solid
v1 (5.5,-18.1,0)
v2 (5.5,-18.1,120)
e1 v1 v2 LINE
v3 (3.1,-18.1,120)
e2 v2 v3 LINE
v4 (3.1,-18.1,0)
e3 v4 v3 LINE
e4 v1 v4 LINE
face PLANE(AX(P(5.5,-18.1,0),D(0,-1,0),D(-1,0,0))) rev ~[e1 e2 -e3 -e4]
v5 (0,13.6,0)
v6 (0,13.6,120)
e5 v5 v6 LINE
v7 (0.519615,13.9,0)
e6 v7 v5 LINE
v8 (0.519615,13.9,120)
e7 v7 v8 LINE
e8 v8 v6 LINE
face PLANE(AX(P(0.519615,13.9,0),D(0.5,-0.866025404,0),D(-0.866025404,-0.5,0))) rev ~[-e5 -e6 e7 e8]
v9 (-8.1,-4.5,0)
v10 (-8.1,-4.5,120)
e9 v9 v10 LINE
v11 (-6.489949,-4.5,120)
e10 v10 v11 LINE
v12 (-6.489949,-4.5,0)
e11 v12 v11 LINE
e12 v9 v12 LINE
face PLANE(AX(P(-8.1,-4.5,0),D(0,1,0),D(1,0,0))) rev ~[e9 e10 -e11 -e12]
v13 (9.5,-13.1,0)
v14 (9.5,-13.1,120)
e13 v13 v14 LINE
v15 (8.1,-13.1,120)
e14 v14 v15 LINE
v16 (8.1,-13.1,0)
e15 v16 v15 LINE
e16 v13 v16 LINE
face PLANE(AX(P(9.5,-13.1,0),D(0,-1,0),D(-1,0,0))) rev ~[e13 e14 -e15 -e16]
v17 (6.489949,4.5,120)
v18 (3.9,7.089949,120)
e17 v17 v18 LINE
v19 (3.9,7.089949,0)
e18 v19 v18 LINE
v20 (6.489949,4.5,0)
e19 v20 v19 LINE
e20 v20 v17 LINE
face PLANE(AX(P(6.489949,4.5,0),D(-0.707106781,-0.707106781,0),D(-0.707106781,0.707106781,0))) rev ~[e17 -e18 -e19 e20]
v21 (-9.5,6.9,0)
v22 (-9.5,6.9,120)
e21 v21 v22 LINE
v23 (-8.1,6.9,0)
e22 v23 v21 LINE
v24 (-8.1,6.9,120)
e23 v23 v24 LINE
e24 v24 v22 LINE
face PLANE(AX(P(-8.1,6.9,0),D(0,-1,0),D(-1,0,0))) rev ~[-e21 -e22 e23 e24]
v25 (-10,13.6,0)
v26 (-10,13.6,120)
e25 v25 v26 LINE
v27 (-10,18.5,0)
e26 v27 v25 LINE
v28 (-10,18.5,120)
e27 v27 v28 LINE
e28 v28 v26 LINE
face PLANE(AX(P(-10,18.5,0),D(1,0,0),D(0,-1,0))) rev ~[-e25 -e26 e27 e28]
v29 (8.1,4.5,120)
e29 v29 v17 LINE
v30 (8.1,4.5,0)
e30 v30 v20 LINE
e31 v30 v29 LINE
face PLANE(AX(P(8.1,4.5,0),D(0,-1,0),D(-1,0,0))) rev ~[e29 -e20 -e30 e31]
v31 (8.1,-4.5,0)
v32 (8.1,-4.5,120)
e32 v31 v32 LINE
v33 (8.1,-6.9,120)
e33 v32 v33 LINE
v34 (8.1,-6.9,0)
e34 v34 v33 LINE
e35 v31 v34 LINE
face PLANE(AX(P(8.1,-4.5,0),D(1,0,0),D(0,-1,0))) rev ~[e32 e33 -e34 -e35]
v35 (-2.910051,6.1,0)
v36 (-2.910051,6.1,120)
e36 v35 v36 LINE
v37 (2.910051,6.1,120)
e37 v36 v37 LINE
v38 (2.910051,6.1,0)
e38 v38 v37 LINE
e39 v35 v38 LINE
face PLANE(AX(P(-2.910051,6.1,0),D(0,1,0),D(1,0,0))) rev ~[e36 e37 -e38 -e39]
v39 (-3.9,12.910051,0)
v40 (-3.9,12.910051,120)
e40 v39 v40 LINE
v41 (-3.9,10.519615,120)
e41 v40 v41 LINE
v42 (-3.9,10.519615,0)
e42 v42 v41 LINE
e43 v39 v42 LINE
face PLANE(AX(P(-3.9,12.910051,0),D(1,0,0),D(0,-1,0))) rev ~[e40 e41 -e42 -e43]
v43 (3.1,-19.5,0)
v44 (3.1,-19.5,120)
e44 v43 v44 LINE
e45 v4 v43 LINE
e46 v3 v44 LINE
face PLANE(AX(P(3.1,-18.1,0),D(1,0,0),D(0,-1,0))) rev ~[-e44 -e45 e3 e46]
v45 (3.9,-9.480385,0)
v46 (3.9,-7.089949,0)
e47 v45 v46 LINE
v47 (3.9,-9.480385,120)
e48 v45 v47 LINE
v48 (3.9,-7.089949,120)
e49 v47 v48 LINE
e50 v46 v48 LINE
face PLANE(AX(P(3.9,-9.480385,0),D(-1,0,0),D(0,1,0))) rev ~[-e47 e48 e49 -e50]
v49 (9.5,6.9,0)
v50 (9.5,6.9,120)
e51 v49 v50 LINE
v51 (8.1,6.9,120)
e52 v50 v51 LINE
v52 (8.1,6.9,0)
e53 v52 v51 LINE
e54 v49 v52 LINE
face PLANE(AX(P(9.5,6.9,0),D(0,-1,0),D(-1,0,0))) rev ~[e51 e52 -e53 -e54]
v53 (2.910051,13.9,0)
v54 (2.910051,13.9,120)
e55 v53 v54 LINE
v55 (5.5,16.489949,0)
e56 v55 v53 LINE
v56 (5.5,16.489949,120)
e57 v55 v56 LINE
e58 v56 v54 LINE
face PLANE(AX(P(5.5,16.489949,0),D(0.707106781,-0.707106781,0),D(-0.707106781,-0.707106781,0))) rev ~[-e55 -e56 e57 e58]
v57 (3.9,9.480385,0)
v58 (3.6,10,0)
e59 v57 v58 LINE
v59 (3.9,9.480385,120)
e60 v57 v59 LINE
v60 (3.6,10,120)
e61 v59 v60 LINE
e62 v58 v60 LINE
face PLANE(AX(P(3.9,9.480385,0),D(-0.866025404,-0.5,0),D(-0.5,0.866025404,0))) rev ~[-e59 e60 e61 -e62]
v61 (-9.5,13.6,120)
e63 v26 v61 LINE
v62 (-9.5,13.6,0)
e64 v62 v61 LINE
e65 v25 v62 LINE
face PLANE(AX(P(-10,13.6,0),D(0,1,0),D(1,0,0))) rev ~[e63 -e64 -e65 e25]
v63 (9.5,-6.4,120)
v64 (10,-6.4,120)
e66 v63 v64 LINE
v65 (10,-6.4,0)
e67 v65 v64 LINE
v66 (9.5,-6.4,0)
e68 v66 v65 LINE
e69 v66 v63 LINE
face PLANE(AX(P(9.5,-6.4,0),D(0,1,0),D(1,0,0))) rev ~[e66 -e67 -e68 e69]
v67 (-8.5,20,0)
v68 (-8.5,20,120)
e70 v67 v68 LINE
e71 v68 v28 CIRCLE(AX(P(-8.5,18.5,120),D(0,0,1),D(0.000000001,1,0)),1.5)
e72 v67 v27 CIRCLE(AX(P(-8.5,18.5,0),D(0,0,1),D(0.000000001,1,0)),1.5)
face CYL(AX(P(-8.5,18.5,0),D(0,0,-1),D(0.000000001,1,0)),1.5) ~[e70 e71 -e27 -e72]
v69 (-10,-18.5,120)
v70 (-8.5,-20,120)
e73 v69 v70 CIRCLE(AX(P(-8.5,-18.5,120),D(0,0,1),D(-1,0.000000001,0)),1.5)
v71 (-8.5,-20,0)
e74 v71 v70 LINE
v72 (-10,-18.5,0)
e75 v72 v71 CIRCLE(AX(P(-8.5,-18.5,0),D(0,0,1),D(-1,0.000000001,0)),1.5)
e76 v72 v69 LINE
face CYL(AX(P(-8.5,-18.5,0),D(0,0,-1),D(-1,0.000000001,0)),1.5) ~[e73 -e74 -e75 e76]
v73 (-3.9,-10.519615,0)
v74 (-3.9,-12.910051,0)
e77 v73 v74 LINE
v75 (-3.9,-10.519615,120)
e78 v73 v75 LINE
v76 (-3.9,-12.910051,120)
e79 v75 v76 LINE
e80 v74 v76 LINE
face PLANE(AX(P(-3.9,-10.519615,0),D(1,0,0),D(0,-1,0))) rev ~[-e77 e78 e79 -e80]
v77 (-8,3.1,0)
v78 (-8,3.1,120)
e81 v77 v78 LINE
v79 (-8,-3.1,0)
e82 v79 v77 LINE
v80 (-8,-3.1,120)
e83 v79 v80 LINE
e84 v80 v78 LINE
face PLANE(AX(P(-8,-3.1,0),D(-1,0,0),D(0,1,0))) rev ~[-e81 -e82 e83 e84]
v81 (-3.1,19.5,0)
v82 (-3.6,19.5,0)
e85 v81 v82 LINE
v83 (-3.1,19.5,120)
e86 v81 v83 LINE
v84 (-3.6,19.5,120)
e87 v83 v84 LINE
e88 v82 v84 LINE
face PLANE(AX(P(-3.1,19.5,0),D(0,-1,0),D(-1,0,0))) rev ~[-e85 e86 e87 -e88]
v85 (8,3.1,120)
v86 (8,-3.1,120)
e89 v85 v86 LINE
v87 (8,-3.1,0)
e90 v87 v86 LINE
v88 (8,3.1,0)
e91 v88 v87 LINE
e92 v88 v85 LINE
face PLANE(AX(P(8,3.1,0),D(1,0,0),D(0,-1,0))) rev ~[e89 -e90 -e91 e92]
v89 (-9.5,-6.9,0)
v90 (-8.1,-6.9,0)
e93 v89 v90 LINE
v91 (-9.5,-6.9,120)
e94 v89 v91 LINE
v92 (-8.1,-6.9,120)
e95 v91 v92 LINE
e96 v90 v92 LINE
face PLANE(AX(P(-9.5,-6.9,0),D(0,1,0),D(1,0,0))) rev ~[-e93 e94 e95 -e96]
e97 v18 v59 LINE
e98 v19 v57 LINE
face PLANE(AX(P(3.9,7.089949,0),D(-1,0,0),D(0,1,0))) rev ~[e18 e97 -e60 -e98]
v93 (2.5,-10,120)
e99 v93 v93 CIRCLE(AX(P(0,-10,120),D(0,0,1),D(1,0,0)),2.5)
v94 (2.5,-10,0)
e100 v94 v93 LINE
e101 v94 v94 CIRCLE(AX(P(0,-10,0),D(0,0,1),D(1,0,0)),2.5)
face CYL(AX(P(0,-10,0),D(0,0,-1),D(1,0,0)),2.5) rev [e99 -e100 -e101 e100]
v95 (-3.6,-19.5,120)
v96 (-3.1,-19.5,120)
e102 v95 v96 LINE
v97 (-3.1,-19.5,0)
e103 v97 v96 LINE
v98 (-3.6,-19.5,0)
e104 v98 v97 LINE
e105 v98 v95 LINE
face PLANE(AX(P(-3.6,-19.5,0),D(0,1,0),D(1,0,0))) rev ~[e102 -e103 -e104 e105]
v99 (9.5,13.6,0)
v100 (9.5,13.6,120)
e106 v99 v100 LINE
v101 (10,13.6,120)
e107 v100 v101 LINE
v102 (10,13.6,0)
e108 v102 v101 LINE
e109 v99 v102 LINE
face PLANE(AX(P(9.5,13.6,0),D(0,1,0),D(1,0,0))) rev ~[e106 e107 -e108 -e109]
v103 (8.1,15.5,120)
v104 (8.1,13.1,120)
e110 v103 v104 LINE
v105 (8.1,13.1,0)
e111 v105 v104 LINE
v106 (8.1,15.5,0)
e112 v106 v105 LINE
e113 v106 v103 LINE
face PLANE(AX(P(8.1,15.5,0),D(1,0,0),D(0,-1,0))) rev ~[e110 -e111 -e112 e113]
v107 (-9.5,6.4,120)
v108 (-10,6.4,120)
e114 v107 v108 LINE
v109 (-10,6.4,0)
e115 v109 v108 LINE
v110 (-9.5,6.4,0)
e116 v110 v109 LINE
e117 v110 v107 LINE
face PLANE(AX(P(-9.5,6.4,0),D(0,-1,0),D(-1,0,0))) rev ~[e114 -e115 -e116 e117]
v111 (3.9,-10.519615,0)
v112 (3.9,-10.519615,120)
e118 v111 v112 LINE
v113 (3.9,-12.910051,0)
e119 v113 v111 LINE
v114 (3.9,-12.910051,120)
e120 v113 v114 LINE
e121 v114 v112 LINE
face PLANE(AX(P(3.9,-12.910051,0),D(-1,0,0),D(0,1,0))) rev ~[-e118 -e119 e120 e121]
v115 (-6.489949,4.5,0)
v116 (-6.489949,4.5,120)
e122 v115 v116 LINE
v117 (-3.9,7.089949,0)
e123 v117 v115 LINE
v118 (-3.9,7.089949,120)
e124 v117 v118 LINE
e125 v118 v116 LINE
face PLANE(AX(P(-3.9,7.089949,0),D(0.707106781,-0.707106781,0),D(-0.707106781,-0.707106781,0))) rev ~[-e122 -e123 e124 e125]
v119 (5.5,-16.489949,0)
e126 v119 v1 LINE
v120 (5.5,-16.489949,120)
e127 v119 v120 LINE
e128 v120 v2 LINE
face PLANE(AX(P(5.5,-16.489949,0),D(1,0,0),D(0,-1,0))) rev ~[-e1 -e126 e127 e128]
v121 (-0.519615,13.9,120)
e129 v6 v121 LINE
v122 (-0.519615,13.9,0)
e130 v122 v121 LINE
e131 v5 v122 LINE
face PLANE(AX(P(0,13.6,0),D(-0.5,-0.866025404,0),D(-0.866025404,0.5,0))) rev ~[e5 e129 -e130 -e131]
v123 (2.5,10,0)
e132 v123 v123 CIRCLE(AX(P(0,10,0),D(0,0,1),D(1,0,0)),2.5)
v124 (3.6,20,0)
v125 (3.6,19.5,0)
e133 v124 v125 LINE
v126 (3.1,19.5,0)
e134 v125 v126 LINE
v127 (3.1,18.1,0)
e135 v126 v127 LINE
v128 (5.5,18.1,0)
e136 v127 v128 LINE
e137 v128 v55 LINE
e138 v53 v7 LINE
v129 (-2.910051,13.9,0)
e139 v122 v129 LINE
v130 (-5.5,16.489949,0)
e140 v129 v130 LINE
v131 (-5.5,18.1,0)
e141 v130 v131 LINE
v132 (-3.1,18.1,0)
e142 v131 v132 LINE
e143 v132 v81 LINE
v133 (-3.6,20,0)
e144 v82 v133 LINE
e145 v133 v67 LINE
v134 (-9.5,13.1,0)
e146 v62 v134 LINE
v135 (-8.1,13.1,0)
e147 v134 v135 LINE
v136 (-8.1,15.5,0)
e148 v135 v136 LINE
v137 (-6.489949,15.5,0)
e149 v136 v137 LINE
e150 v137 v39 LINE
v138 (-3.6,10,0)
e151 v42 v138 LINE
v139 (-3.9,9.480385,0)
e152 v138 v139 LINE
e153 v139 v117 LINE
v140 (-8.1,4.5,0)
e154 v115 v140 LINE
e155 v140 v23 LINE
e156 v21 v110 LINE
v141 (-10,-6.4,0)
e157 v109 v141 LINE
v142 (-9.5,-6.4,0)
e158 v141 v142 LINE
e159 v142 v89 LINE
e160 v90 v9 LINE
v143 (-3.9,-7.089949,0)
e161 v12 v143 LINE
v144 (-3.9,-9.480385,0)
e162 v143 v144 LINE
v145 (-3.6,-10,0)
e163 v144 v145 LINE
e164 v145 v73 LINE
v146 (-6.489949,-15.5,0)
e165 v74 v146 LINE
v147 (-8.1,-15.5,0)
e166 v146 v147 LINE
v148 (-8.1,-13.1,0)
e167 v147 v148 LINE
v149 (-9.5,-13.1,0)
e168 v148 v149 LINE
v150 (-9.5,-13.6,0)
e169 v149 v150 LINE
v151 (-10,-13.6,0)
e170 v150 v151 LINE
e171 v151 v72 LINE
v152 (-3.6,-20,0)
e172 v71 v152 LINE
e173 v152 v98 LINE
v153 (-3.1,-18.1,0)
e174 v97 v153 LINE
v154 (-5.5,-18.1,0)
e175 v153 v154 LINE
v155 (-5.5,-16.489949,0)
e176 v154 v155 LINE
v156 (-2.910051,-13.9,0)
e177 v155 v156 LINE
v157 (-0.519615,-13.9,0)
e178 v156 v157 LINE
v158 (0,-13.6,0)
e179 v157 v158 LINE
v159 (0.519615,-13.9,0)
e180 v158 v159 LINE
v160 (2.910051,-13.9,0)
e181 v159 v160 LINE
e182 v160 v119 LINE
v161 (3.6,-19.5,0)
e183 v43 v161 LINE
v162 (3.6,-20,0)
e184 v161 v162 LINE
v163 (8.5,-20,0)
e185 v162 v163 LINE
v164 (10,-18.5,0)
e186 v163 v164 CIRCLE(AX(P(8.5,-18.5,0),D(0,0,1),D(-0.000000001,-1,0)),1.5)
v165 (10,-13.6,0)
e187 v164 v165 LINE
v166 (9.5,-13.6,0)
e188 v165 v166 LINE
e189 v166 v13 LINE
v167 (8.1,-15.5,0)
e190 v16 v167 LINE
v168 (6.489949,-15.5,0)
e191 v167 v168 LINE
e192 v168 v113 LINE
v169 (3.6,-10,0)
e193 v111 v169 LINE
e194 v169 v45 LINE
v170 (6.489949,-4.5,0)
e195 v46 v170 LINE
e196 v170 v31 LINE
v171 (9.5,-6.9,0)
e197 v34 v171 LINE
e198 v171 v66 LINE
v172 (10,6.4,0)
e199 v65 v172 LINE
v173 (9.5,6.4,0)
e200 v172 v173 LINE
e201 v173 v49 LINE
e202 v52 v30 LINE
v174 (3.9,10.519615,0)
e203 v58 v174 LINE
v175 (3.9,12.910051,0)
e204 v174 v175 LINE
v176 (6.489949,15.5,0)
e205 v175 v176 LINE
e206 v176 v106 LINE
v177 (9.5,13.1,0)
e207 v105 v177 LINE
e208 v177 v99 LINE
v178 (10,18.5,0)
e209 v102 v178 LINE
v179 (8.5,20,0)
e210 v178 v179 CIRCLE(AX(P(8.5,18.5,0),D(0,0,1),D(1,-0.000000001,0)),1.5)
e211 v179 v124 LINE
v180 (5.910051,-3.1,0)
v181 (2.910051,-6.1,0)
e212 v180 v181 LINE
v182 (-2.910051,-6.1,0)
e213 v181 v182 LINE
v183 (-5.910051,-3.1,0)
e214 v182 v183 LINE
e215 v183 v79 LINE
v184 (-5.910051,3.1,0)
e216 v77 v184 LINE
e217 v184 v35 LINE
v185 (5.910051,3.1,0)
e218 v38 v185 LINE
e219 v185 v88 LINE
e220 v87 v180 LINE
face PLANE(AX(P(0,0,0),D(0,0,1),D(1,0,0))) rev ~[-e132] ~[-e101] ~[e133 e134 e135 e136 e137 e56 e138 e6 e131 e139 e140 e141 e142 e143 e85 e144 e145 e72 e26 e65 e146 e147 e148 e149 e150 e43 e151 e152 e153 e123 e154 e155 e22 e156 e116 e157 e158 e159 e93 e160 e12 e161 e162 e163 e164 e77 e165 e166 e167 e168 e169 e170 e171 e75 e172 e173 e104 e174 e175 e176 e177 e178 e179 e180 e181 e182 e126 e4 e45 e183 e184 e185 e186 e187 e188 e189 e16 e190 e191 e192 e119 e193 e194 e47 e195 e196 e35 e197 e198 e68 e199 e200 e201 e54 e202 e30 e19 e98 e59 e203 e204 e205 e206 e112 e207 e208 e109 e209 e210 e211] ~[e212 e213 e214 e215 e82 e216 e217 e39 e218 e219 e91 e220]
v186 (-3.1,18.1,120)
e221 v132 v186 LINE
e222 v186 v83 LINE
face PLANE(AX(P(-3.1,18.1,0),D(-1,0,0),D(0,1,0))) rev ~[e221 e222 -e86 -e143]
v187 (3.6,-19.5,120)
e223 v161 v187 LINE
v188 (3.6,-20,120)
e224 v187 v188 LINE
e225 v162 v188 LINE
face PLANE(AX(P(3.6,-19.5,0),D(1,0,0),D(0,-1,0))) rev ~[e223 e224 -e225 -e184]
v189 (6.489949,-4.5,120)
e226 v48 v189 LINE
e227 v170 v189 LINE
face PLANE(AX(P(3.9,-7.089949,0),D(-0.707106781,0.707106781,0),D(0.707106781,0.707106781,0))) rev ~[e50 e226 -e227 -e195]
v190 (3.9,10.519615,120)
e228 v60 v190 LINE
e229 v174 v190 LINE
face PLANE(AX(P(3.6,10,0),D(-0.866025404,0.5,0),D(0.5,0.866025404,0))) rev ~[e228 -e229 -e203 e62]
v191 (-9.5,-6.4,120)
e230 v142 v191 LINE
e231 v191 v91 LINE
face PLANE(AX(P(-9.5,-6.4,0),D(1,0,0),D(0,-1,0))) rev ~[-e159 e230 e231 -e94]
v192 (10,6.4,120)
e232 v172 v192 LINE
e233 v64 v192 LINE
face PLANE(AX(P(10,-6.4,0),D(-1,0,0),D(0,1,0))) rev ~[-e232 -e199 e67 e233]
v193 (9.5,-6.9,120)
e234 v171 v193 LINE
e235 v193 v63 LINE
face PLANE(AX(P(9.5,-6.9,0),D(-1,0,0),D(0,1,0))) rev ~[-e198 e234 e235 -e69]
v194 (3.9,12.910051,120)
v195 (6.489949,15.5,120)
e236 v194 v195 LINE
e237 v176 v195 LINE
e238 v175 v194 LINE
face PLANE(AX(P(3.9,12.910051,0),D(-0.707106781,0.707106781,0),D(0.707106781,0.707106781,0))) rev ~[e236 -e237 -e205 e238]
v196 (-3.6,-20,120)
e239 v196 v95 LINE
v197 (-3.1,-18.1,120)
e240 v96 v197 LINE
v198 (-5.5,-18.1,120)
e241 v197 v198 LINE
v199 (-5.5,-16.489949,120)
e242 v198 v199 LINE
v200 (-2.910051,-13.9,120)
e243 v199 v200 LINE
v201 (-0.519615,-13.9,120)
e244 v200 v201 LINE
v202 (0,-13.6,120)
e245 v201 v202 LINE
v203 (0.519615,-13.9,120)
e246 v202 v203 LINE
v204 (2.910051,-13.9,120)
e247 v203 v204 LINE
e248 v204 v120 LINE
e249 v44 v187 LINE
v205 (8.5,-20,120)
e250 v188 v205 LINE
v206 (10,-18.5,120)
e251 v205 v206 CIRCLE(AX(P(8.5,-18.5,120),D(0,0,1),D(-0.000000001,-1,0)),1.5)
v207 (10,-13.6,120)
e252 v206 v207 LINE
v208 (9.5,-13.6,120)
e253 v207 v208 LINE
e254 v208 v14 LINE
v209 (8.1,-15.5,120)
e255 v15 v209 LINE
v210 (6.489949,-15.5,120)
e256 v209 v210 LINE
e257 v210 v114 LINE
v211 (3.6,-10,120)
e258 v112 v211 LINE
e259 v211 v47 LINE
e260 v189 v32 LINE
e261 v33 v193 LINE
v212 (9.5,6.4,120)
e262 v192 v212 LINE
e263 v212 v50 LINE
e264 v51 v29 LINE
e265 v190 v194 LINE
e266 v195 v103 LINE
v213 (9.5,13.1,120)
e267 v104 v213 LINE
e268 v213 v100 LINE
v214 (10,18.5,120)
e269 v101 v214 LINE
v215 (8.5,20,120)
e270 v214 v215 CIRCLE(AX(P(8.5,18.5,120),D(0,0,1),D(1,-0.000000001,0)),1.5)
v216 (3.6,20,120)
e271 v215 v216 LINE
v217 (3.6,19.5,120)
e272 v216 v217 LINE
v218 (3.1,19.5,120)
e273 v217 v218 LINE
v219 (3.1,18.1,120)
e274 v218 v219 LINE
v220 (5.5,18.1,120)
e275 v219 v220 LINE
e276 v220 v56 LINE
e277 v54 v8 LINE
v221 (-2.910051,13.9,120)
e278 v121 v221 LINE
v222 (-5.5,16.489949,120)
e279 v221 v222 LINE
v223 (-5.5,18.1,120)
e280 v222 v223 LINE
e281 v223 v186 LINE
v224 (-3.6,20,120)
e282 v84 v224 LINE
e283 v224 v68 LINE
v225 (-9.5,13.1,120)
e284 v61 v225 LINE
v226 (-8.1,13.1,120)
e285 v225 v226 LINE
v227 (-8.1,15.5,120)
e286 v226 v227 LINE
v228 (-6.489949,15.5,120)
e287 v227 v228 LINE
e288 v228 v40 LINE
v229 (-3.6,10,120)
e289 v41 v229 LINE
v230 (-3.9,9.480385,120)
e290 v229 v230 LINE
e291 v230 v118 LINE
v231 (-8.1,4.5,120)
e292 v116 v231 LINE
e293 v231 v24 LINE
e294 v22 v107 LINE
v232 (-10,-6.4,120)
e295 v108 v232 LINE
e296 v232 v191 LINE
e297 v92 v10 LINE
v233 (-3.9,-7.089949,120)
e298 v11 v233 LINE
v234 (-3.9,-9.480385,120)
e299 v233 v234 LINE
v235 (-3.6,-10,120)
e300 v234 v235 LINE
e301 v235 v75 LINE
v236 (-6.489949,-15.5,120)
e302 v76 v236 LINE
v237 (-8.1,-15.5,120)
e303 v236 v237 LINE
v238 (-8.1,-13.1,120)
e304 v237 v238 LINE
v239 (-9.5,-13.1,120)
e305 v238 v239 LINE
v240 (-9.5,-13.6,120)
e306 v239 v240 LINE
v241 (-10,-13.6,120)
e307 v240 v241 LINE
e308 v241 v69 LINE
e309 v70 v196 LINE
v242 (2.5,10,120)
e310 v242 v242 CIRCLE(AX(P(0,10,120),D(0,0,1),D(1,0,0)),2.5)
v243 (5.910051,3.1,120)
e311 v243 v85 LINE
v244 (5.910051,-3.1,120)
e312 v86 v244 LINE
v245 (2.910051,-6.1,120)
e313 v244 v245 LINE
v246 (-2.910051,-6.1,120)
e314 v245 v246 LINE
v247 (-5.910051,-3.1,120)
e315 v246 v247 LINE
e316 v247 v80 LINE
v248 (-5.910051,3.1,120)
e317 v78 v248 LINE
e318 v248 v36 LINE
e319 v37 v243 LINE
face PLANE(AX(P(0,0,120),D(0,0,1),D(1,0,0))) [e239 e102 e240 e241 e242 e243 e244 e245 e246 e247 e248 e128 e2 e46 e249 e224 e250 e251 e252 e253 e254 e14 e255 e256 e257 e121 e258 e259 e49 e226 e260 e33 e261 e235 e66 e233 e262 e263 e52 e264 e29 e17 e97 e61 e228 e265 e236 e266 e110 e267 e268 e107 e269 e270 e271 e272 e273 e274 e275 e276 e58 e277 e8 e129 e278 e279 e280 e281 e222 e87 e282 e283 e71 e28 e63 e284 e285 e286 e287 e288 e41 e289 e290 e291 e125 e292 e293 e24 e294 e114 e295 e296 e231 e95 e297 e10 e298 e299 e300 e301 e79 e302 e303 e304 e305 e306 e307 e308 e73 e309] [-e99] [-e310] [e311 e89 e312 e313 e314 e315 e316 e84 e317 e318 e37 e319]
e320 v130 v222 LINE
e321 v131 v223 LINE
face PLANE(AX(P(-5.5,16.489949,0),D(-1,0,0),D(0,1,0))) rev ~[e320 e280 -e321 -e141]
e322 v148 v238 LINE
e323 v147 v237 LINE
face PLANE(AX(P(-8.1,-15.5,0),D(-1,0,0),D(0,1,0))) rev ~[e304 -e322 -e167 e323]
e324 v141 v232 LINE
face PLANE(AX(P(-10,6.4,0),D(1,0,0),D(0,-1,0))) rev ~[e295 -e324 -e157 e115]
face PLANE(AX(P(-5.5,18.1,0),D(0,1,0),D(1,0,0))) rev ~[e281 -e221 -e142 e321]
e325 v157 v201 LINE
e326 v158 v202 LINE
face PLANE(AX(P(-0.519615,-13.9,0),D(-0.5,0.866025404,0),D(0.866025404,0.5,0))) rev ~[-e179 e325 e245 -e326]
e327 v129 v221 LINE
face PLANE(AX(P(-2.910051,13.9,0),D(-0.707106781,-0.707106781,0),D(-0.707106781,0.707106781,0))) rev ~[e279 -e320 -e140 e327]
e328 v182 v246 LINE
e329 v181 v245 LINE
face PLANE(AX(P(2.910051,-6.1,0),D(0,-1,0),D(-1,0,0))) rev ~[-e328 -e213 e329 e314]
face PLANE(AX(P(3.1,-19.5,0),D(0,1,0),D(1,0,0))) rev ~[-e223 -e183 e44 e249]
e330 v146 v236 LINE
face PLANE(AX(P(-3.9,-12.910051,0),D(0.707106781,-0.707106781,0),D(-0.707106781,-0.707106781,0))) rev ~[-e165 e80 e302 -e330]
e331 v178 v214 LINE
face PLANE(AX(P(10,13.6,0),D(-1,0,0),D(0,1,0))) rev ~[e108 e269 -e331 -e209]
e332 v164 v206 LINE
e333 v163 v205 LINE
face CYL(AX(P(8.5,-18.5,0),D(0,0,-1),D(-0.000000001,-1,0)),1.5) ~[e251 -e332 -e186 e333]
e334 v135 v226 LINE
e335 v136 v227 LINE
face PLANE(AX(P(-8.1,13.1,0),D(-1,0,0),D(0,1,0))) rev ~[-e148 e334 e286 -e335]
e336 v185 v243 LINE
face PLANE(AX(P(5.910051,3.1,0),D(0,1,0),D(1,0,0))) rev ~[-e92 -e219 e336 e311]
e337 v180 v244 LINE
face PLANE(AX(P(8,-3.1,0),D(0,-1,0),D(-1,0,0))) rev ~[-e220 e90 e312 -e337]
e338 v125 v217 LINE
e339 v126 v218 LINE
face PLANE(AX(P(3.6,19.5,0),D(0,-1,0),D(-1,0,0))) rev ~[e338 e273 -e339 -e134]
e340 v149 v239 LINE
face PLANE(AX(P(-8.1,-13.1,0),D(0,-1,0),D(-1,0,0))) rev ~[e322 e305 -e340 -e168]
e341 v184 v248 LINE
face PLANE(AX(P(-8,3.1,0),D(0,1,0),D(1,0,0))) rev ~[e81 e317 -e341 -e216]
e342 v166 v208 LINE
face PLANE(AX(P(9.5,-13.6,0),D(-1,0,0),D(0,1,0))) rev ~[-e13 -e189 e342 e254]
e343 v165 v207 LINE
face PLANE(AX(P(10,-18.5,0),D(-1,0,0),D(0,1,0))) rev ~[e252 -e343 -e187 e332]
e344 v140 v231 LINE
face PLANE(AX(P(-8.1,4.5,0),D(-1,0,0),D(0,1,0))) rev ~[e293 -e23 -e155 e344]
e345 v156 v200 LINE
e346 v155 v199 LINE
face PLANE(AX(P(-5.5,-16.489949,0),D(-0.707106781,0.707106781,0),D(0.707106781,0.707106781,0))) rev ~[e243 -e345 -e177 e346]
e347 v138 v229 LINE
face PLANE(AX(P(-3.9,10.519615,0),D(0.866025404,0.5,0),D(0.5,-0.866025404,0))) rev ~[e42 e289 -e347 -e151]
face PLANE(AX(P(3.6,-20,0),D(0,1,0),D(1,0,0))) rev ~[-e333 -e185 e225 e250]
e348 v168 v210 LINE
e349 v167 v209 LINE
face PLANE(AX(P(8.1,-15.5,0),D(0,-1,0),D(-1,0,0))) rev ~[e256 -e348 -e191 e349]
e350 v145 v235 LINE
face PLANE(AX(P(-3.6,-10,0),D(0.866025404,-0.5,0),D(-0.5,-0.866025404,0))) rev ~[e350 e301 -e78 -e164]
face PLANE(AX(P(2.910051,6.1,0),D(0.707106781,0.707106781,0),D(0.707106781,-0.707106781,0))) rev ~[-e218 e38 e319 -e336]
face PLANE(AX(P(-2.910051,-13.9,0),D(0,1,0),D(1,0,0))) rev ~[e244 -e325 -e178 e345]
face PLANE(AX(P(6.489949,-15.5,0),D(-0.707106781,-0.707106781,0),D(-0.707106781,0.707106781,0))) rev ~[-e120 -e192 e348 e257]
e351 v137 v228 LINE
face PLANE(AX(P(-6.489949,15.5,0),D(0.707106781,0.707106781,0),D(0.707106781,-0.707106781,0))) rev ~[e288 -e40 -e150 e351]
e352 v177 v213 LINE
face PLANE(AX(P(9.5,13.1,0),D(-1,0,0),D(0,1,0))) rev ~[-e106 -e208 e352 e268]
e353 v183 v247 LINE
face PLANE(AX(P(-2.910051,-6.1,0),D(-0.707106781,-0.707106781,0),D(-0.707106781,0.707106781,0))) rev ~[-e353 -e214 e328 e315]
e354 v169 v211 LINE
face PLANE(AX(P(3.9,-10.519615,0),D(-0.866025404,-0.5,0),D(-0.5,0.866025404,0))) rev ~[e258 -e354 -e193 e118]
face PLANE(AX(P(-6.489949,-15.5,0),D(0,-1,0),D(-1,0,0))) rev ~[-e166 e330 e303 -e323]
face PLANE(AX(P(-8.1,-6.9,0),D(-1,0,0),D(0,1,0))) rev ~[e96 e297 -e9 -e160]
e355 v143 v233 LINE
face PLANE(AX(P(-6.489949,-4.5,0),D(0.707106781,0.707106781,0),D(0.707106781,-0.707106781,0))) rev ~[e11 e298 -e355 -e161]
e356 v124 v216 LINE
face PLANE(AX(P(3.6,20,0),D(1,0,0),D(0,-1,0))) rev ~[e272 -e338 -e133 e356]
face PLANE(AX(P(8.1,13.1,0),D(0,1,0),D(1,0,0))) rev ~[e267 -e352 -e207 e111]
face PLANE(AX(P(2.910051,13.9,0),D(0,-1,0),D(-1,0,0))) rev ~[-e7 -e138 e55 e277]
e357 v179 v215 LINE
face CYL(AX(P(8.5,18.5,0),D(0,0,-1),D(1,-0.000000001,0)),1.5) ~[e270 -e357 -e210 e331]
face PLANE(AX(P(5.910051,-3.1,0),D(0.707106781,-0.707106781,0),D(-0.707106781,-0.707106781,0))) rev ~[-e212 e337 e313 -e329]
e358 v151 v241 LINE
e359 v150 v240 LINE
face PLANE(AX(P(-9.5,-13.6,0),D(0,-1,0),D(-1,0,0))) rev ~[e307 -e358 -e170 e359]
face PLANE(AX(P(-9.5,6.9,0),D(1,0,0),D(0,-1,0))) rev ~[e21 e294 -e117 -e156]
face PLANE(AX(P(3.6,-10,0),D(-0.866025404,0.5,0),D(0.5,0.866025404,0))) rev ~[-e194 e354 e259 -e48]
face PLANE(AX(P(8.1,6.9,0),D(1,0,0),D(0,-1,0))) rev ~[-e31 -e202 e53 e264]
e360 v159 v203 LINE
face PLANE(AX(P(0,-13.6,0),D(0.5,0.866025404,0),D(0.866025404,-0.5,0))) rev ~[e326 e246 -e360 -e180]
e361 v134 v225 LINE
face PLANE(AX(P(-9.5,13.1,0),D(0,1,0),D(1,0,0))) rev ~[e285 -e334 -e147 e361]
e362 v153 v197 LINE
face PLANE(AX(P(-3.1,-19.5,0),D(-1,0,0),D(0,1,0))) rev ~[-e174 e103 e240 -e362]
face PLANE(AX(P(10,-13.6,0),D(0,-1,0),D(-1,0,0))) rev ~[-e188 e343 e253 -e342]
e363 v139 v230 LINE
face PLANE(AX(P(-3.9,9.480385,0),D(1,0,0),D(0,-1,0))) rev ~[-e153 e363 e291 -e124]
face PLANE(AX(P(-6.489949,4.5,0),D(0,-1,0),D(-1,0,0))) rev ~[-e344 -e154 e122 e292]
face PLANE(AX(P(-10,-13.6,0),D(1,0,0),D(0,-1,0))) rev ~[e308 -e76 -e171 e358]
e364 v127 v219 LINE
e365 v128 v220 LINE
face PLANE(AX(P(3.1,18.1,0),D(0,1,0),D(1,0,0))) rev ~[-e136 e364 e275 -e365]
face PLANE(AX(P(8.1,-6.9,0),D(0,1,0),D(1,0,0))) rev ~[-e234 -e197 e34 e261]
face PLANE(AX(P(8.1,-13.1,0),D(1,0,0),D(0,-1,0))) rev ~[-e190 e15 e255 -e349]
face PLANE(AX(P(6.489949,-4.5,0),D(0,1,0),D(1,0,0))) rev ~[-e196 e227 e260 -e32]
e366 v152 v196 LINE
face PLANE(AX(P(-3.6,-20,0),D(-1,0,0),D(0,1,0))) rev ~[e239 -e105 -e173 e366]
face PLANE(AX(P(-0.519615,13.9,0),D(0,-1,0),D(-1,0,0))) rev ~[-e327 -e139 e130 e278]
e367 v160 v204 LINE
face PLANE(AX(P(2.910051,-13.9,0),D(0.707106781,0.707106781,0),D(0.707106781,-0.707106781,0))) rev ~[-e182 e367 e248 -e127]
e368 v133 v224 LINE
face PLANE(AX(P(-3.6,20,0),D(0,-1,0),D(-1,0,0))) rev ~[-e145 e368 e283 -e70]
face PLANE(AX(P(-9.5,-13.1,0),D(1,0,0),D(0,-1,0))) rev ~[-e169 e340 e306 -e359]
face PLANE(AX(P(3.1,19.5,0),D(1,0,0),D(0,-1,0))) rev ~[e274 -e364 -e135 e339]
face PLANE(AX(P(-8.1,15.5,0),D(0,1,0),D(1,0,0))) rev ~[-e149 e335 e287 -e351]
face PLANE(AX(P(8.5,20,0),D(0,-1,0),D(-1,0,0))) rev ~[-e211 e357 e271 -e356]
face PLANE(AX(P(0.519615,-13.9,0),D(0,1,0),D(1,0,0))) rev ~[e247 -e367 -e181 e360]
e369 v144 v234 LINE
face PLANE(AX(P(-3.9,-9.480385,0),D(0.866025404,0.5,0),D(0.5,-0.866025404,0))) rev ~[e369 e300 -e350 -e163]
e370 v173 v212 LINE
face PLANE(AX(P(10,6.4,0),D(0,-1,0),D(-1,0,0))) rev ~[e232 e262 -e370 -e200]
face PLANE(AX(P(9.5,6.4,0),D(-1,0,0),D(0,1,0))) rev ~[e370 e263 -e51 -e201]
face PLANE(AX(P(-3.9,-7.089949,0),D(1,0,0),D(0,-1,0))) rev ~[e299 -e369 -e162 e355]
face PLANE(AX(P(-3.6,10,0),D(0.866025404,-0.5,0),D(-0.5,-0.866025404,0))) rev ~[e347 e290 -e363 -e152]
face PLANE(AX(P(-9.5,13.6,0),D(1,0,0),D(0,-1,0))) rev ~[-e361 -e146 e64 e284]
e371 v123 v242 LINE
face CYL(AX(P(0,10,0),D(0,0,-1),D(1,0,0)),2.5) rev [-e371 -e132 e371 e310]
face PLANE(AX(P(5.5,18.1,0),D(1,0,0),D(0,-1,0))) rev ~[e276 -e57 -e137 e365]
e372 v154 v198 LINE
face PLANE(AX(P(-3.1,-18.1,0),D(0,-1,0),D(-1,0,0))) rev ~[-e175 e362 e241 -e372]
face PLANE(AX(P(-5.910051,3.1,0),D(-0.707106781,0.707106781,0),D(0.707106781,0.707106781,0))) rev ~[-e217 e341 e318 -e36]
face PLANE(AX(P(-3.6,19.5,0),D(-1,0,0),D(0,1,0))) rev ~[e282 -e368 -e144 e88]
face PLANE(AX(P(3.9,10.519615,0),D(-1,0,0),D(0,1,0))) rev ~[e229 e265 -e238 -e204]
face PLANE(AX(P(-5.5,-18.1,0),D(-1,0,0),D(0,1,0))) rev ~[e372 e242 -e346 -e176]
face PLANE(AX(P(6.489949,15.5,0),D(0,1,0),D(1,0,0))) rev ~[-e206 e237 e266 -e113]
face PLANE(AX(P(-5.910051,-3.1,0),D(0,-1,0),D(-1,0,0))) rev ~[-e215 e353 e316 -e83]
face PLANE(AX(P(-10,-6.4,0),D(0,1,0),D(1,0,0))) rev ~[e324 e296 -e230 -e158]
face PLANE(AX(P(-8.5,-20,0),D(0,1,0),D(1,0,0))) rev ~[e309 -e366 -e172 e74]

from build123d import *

# Parameters (mm, degrees)
MODEL_R         = 2.5
EXTRUDE_1_DEPTH = 120


with BuildPart() as part:
    # Model → 凸台-拉伸1 (new body)
    with BuildSketch(Plane.XY):
        with BuildLine():
            Line((-3.6, 10), (-3.9, 9.480384758))
            Line((-3.9, 9.480384758), (-3.9, 7.089949494))
            Line((-3.9, 7.089949494), (-6.489949494, 4.5))
            Line((-6.489949494, 4.5), (-8.1, 4.5))
            Line((-8.1, 4.5), (-8.1, 6.9))
            Line((-8.1, 6.9), (-9.5, 6.9))
            Line((-9.5, 6.9), (-9.5, 6.4))
            Line((-9.5, 6.4), (-10, 6.4))
            Line((-10, 6.4), (-10, -6.4))
            Line((-10, -6.4), (-9.5, -6.4))
            Line((-9.5, -6.4), (-9.5, -6.9))
            Line((-9.5, -6.9), (-8.1, -6.9))
            Line((-8.1, -6.9), (-8.1, -4.5))
            Line((-8.1, -4.5), (-6.489949494, -4.5))
            Line((-6.489949494, -4.5), (-3.9, -7.089949494))
            Line((-3.9, -7.089949494), (-3.9, -9.480384758))
            Line((-3.9, -9.480384758), (-3.6, -10))
            Line((-3.6, -10), (-3.9, -10.519615242))
            Line((-3.9, -10.519615242), (-3.9, -12.910050506))
            Line((-3.9, -12.910050506), (-6.489949494, -15.5))
            Line((-6.489949494, -15.5), (-8.1, -15.5))
            Line((-8.1, -15.5), (-8.1, -13.1))
            Line((-8.1, -13.1), (-9.5, -13.1))
            Line((-9.5, -13.1), (-9.5, -13.6))
            Line((-9.5, -13.6), (-10, -13.6))
            Line((-10, -13.6), (-10, -18.5))
            ThreePointArc((-10, -18.5), (-9.560660172, -19.560660172), (-8.5, -20))
            Line((-8.5, -20), (-3.6, -20))
            Line((-3.6, -20), (-3.6, -19.5))
            Line((-3.6, -19.5), (-3.1, -19.5))
            Line((-3.1, -19.5), (-3.1, -18.1))
            Line((-3.1, -18.1), (-5.5, -18.1))
            Line((-5.5, -18.1), (-5.5, -16.489949494))
            Line((-5.5, -16.489949494), (-2.910050506, -13.9))
            Line((-2.910050506, -13.9), (-0.519615242, -13.9))
            Line((-0.519615242, -13.9), (0, -13.6))
            Line((0, -13.6), (0.519615242, -13.9))
            Line((0.519615242, -13.9), (2.910050506, -13.9))
            Line((2.910050506, -13.9), (5.5, -16.489949494))
            Line((5.5, -16.489949494), (5.5, -18.1))
            Line((5.5, -18.1), (3.1, -18.1))
            Line((3.1, -18.1), (3.1, -19.5))
            Line((3.1, -19.5), (3.6, -19.5))
            Line((3.6, -19.5), (3.6, -20))
            Line((3.6, -20), (8.5, -20))
            ThreePointArc((8.5, -20), (9.560660172, -19.560660172), (10, -18.5))
            Line((10, -18.5), (10, -13.6))
            Line((10, -13.6), (9.5, -13.6))
            Line((9.5, -13.6), (9.5, -13.1))
            Line((9.5, -13.1), (8.1, -13.1))
            Line((8.1, -13.1), (8.1, -15.5))
            Line((8.1, -15.5), (6.489949494, -15.5))
            Line((6.489949494, -15.5), (3.9, -12.910050506))
            Line((3.9, -12.910050506), (3.9, -10.519615242))
            Line((3.9, -10.519615242), (3.6, -10))
            Line((3.6, -10), (3.9, -9.480384758))
            Line((3.9, -9.480384758), (3.9, -7.089949494))
            Line((3.9, -7.089949494), (6.489949494, -4.5))
            Line((6.489949494, -4.5), (8.1, -4.5))
            Line((8.1, -4.5), (8.1, -6.9))
            Line((8.1, -6.9), (9.5, -6.9))
            Line((9.5, -6.9), (9.5, -6.4))
            Line((9.5, -6.4), (10, -6.4))
            Line((10, -6.4), (10, 6.4))
            Line((10, 6.4), (9.5, 6.4))
            Line((9.5, 6.4), (9.5, 6.9))
            Line((9.5, 6.9), (8.1, 6.9))
            Line((8.1, 6.9), (8.1, 4.5))
            Line((8.1, 4.5), (6.489949494, 4.5))
            Line((6.489949494, 4.5), (3.9, 7.089949494))
            Line((3.9, 7.089949494), (3.9, 9.480384758))
            Line((3.9, 9.480384758), (3.6, 10))
            Line((3.6, 10), (3.9, 10.519615242))
            Line((3.9, 10.519615242), (3.9, 12.910050506))
            Line((3.9, 12.910050506), (6.489949494, 15.5))
            Line((6.489949494, 15.5), (8.1, 15.5))
            Line((8.1, 15.5), (8.1, 13.1))
            Line((8.1, 13.1), (9.5, 13.1))
            Line((9.5, 13.1), (9.5, 13.6))
            Line((9.5, 13.6), (10, 13.6))
            Line((10, 13.6), (10, 18.5))
            ThreePointArc((10, 18.5), (9.560660172, 19.560660172), (8.5, 20))
            Line((8.5, 20), (3.6, 20))
            Line((3.6, 20), (3.6, 19.5))
            Line((3.6, 19.5), (3.1, 19.5))
            Line((3.1, 19.5), (3.1, 18.1))
            Line((3.1, 18.1), (5.5, 18.1))
            Line((5.5, 18.1), (5.5, 16.489949494))
            Line((5.5, 16.489949494), (2.910050506, 13.9))
            Line((2.910050506, 13.9), (0.519615242, 13.9))
            Line((0.519615242, 13.9), (0, 13.6))
            Line((0, 13.6), (-0.519615242, 13.9))
            Line((-0.519615242, 13.9), (-2.910050506, 13.9))
            Line((-2.910050506, 13.9), (-5.5, 16.489949494))
            Line((-5.5, 16.489949494), (-5.5, 18.1))
            Line((-5.5, 18.1), (-3.1, 18.1))
            Line((-3.1, 18.1), (-3.1, 19.5))
            Line((-3.1, 19.5), (-3.6, 19.5))
            Line((-3.6, 19.5), (-3.6, 20))
            Line((-3.6, 20), (-8.5, 20))
            ThreePointArc((-8.5, 20), (-9.560660172, 19.560660172), (-10, 18.5))
            Line((-10, 18.5), (-10, 13.6))
            Line((-10, 13.6), (-9.5, 13.6))
            Line((-9.5, 13.6), (-9.5, 13.1))
            Line((-9.5, 13.1), (-8.1, 13.1))
            Line((-8.1, 13.1), (-8.1, 15.5))
            Line((-8.1, 15.5), (-6.489949494, 15.5))
            Line((-6.489949494, 15.5), (-3.9, 12.910050506))
            Line((-3.9, 12.910050506), (-3.9, 10.519615242))
            Line((-3.9, 10.519615242), (-3.6, 10))
        make_face()
        with Locations((0, 10)):
            Circle(MODEL_R, mode=Mode.SUBTRACT)
        with Locations((0, -10)):
            Circle(MODEL_R, mode=Mode.SUBTRACT)
        Polygon((8, -3.1), (5.910050506, -3.1), (2.910050506, -6.1), (-2.910050506, -6.1), (-5.910050506, -3.1), (-8, -3.1), (-8, 3.1), (-5.910050506, 3.1), (-2.910050506, 6.1), (2.910050506, 6.1), (5.910050506, 3.1), (8, 3.1), align=None, mode=Mode.SUBTRACT)
    extrude(amount=EXTRUDE_1_DEPTH)


solid = part.part
